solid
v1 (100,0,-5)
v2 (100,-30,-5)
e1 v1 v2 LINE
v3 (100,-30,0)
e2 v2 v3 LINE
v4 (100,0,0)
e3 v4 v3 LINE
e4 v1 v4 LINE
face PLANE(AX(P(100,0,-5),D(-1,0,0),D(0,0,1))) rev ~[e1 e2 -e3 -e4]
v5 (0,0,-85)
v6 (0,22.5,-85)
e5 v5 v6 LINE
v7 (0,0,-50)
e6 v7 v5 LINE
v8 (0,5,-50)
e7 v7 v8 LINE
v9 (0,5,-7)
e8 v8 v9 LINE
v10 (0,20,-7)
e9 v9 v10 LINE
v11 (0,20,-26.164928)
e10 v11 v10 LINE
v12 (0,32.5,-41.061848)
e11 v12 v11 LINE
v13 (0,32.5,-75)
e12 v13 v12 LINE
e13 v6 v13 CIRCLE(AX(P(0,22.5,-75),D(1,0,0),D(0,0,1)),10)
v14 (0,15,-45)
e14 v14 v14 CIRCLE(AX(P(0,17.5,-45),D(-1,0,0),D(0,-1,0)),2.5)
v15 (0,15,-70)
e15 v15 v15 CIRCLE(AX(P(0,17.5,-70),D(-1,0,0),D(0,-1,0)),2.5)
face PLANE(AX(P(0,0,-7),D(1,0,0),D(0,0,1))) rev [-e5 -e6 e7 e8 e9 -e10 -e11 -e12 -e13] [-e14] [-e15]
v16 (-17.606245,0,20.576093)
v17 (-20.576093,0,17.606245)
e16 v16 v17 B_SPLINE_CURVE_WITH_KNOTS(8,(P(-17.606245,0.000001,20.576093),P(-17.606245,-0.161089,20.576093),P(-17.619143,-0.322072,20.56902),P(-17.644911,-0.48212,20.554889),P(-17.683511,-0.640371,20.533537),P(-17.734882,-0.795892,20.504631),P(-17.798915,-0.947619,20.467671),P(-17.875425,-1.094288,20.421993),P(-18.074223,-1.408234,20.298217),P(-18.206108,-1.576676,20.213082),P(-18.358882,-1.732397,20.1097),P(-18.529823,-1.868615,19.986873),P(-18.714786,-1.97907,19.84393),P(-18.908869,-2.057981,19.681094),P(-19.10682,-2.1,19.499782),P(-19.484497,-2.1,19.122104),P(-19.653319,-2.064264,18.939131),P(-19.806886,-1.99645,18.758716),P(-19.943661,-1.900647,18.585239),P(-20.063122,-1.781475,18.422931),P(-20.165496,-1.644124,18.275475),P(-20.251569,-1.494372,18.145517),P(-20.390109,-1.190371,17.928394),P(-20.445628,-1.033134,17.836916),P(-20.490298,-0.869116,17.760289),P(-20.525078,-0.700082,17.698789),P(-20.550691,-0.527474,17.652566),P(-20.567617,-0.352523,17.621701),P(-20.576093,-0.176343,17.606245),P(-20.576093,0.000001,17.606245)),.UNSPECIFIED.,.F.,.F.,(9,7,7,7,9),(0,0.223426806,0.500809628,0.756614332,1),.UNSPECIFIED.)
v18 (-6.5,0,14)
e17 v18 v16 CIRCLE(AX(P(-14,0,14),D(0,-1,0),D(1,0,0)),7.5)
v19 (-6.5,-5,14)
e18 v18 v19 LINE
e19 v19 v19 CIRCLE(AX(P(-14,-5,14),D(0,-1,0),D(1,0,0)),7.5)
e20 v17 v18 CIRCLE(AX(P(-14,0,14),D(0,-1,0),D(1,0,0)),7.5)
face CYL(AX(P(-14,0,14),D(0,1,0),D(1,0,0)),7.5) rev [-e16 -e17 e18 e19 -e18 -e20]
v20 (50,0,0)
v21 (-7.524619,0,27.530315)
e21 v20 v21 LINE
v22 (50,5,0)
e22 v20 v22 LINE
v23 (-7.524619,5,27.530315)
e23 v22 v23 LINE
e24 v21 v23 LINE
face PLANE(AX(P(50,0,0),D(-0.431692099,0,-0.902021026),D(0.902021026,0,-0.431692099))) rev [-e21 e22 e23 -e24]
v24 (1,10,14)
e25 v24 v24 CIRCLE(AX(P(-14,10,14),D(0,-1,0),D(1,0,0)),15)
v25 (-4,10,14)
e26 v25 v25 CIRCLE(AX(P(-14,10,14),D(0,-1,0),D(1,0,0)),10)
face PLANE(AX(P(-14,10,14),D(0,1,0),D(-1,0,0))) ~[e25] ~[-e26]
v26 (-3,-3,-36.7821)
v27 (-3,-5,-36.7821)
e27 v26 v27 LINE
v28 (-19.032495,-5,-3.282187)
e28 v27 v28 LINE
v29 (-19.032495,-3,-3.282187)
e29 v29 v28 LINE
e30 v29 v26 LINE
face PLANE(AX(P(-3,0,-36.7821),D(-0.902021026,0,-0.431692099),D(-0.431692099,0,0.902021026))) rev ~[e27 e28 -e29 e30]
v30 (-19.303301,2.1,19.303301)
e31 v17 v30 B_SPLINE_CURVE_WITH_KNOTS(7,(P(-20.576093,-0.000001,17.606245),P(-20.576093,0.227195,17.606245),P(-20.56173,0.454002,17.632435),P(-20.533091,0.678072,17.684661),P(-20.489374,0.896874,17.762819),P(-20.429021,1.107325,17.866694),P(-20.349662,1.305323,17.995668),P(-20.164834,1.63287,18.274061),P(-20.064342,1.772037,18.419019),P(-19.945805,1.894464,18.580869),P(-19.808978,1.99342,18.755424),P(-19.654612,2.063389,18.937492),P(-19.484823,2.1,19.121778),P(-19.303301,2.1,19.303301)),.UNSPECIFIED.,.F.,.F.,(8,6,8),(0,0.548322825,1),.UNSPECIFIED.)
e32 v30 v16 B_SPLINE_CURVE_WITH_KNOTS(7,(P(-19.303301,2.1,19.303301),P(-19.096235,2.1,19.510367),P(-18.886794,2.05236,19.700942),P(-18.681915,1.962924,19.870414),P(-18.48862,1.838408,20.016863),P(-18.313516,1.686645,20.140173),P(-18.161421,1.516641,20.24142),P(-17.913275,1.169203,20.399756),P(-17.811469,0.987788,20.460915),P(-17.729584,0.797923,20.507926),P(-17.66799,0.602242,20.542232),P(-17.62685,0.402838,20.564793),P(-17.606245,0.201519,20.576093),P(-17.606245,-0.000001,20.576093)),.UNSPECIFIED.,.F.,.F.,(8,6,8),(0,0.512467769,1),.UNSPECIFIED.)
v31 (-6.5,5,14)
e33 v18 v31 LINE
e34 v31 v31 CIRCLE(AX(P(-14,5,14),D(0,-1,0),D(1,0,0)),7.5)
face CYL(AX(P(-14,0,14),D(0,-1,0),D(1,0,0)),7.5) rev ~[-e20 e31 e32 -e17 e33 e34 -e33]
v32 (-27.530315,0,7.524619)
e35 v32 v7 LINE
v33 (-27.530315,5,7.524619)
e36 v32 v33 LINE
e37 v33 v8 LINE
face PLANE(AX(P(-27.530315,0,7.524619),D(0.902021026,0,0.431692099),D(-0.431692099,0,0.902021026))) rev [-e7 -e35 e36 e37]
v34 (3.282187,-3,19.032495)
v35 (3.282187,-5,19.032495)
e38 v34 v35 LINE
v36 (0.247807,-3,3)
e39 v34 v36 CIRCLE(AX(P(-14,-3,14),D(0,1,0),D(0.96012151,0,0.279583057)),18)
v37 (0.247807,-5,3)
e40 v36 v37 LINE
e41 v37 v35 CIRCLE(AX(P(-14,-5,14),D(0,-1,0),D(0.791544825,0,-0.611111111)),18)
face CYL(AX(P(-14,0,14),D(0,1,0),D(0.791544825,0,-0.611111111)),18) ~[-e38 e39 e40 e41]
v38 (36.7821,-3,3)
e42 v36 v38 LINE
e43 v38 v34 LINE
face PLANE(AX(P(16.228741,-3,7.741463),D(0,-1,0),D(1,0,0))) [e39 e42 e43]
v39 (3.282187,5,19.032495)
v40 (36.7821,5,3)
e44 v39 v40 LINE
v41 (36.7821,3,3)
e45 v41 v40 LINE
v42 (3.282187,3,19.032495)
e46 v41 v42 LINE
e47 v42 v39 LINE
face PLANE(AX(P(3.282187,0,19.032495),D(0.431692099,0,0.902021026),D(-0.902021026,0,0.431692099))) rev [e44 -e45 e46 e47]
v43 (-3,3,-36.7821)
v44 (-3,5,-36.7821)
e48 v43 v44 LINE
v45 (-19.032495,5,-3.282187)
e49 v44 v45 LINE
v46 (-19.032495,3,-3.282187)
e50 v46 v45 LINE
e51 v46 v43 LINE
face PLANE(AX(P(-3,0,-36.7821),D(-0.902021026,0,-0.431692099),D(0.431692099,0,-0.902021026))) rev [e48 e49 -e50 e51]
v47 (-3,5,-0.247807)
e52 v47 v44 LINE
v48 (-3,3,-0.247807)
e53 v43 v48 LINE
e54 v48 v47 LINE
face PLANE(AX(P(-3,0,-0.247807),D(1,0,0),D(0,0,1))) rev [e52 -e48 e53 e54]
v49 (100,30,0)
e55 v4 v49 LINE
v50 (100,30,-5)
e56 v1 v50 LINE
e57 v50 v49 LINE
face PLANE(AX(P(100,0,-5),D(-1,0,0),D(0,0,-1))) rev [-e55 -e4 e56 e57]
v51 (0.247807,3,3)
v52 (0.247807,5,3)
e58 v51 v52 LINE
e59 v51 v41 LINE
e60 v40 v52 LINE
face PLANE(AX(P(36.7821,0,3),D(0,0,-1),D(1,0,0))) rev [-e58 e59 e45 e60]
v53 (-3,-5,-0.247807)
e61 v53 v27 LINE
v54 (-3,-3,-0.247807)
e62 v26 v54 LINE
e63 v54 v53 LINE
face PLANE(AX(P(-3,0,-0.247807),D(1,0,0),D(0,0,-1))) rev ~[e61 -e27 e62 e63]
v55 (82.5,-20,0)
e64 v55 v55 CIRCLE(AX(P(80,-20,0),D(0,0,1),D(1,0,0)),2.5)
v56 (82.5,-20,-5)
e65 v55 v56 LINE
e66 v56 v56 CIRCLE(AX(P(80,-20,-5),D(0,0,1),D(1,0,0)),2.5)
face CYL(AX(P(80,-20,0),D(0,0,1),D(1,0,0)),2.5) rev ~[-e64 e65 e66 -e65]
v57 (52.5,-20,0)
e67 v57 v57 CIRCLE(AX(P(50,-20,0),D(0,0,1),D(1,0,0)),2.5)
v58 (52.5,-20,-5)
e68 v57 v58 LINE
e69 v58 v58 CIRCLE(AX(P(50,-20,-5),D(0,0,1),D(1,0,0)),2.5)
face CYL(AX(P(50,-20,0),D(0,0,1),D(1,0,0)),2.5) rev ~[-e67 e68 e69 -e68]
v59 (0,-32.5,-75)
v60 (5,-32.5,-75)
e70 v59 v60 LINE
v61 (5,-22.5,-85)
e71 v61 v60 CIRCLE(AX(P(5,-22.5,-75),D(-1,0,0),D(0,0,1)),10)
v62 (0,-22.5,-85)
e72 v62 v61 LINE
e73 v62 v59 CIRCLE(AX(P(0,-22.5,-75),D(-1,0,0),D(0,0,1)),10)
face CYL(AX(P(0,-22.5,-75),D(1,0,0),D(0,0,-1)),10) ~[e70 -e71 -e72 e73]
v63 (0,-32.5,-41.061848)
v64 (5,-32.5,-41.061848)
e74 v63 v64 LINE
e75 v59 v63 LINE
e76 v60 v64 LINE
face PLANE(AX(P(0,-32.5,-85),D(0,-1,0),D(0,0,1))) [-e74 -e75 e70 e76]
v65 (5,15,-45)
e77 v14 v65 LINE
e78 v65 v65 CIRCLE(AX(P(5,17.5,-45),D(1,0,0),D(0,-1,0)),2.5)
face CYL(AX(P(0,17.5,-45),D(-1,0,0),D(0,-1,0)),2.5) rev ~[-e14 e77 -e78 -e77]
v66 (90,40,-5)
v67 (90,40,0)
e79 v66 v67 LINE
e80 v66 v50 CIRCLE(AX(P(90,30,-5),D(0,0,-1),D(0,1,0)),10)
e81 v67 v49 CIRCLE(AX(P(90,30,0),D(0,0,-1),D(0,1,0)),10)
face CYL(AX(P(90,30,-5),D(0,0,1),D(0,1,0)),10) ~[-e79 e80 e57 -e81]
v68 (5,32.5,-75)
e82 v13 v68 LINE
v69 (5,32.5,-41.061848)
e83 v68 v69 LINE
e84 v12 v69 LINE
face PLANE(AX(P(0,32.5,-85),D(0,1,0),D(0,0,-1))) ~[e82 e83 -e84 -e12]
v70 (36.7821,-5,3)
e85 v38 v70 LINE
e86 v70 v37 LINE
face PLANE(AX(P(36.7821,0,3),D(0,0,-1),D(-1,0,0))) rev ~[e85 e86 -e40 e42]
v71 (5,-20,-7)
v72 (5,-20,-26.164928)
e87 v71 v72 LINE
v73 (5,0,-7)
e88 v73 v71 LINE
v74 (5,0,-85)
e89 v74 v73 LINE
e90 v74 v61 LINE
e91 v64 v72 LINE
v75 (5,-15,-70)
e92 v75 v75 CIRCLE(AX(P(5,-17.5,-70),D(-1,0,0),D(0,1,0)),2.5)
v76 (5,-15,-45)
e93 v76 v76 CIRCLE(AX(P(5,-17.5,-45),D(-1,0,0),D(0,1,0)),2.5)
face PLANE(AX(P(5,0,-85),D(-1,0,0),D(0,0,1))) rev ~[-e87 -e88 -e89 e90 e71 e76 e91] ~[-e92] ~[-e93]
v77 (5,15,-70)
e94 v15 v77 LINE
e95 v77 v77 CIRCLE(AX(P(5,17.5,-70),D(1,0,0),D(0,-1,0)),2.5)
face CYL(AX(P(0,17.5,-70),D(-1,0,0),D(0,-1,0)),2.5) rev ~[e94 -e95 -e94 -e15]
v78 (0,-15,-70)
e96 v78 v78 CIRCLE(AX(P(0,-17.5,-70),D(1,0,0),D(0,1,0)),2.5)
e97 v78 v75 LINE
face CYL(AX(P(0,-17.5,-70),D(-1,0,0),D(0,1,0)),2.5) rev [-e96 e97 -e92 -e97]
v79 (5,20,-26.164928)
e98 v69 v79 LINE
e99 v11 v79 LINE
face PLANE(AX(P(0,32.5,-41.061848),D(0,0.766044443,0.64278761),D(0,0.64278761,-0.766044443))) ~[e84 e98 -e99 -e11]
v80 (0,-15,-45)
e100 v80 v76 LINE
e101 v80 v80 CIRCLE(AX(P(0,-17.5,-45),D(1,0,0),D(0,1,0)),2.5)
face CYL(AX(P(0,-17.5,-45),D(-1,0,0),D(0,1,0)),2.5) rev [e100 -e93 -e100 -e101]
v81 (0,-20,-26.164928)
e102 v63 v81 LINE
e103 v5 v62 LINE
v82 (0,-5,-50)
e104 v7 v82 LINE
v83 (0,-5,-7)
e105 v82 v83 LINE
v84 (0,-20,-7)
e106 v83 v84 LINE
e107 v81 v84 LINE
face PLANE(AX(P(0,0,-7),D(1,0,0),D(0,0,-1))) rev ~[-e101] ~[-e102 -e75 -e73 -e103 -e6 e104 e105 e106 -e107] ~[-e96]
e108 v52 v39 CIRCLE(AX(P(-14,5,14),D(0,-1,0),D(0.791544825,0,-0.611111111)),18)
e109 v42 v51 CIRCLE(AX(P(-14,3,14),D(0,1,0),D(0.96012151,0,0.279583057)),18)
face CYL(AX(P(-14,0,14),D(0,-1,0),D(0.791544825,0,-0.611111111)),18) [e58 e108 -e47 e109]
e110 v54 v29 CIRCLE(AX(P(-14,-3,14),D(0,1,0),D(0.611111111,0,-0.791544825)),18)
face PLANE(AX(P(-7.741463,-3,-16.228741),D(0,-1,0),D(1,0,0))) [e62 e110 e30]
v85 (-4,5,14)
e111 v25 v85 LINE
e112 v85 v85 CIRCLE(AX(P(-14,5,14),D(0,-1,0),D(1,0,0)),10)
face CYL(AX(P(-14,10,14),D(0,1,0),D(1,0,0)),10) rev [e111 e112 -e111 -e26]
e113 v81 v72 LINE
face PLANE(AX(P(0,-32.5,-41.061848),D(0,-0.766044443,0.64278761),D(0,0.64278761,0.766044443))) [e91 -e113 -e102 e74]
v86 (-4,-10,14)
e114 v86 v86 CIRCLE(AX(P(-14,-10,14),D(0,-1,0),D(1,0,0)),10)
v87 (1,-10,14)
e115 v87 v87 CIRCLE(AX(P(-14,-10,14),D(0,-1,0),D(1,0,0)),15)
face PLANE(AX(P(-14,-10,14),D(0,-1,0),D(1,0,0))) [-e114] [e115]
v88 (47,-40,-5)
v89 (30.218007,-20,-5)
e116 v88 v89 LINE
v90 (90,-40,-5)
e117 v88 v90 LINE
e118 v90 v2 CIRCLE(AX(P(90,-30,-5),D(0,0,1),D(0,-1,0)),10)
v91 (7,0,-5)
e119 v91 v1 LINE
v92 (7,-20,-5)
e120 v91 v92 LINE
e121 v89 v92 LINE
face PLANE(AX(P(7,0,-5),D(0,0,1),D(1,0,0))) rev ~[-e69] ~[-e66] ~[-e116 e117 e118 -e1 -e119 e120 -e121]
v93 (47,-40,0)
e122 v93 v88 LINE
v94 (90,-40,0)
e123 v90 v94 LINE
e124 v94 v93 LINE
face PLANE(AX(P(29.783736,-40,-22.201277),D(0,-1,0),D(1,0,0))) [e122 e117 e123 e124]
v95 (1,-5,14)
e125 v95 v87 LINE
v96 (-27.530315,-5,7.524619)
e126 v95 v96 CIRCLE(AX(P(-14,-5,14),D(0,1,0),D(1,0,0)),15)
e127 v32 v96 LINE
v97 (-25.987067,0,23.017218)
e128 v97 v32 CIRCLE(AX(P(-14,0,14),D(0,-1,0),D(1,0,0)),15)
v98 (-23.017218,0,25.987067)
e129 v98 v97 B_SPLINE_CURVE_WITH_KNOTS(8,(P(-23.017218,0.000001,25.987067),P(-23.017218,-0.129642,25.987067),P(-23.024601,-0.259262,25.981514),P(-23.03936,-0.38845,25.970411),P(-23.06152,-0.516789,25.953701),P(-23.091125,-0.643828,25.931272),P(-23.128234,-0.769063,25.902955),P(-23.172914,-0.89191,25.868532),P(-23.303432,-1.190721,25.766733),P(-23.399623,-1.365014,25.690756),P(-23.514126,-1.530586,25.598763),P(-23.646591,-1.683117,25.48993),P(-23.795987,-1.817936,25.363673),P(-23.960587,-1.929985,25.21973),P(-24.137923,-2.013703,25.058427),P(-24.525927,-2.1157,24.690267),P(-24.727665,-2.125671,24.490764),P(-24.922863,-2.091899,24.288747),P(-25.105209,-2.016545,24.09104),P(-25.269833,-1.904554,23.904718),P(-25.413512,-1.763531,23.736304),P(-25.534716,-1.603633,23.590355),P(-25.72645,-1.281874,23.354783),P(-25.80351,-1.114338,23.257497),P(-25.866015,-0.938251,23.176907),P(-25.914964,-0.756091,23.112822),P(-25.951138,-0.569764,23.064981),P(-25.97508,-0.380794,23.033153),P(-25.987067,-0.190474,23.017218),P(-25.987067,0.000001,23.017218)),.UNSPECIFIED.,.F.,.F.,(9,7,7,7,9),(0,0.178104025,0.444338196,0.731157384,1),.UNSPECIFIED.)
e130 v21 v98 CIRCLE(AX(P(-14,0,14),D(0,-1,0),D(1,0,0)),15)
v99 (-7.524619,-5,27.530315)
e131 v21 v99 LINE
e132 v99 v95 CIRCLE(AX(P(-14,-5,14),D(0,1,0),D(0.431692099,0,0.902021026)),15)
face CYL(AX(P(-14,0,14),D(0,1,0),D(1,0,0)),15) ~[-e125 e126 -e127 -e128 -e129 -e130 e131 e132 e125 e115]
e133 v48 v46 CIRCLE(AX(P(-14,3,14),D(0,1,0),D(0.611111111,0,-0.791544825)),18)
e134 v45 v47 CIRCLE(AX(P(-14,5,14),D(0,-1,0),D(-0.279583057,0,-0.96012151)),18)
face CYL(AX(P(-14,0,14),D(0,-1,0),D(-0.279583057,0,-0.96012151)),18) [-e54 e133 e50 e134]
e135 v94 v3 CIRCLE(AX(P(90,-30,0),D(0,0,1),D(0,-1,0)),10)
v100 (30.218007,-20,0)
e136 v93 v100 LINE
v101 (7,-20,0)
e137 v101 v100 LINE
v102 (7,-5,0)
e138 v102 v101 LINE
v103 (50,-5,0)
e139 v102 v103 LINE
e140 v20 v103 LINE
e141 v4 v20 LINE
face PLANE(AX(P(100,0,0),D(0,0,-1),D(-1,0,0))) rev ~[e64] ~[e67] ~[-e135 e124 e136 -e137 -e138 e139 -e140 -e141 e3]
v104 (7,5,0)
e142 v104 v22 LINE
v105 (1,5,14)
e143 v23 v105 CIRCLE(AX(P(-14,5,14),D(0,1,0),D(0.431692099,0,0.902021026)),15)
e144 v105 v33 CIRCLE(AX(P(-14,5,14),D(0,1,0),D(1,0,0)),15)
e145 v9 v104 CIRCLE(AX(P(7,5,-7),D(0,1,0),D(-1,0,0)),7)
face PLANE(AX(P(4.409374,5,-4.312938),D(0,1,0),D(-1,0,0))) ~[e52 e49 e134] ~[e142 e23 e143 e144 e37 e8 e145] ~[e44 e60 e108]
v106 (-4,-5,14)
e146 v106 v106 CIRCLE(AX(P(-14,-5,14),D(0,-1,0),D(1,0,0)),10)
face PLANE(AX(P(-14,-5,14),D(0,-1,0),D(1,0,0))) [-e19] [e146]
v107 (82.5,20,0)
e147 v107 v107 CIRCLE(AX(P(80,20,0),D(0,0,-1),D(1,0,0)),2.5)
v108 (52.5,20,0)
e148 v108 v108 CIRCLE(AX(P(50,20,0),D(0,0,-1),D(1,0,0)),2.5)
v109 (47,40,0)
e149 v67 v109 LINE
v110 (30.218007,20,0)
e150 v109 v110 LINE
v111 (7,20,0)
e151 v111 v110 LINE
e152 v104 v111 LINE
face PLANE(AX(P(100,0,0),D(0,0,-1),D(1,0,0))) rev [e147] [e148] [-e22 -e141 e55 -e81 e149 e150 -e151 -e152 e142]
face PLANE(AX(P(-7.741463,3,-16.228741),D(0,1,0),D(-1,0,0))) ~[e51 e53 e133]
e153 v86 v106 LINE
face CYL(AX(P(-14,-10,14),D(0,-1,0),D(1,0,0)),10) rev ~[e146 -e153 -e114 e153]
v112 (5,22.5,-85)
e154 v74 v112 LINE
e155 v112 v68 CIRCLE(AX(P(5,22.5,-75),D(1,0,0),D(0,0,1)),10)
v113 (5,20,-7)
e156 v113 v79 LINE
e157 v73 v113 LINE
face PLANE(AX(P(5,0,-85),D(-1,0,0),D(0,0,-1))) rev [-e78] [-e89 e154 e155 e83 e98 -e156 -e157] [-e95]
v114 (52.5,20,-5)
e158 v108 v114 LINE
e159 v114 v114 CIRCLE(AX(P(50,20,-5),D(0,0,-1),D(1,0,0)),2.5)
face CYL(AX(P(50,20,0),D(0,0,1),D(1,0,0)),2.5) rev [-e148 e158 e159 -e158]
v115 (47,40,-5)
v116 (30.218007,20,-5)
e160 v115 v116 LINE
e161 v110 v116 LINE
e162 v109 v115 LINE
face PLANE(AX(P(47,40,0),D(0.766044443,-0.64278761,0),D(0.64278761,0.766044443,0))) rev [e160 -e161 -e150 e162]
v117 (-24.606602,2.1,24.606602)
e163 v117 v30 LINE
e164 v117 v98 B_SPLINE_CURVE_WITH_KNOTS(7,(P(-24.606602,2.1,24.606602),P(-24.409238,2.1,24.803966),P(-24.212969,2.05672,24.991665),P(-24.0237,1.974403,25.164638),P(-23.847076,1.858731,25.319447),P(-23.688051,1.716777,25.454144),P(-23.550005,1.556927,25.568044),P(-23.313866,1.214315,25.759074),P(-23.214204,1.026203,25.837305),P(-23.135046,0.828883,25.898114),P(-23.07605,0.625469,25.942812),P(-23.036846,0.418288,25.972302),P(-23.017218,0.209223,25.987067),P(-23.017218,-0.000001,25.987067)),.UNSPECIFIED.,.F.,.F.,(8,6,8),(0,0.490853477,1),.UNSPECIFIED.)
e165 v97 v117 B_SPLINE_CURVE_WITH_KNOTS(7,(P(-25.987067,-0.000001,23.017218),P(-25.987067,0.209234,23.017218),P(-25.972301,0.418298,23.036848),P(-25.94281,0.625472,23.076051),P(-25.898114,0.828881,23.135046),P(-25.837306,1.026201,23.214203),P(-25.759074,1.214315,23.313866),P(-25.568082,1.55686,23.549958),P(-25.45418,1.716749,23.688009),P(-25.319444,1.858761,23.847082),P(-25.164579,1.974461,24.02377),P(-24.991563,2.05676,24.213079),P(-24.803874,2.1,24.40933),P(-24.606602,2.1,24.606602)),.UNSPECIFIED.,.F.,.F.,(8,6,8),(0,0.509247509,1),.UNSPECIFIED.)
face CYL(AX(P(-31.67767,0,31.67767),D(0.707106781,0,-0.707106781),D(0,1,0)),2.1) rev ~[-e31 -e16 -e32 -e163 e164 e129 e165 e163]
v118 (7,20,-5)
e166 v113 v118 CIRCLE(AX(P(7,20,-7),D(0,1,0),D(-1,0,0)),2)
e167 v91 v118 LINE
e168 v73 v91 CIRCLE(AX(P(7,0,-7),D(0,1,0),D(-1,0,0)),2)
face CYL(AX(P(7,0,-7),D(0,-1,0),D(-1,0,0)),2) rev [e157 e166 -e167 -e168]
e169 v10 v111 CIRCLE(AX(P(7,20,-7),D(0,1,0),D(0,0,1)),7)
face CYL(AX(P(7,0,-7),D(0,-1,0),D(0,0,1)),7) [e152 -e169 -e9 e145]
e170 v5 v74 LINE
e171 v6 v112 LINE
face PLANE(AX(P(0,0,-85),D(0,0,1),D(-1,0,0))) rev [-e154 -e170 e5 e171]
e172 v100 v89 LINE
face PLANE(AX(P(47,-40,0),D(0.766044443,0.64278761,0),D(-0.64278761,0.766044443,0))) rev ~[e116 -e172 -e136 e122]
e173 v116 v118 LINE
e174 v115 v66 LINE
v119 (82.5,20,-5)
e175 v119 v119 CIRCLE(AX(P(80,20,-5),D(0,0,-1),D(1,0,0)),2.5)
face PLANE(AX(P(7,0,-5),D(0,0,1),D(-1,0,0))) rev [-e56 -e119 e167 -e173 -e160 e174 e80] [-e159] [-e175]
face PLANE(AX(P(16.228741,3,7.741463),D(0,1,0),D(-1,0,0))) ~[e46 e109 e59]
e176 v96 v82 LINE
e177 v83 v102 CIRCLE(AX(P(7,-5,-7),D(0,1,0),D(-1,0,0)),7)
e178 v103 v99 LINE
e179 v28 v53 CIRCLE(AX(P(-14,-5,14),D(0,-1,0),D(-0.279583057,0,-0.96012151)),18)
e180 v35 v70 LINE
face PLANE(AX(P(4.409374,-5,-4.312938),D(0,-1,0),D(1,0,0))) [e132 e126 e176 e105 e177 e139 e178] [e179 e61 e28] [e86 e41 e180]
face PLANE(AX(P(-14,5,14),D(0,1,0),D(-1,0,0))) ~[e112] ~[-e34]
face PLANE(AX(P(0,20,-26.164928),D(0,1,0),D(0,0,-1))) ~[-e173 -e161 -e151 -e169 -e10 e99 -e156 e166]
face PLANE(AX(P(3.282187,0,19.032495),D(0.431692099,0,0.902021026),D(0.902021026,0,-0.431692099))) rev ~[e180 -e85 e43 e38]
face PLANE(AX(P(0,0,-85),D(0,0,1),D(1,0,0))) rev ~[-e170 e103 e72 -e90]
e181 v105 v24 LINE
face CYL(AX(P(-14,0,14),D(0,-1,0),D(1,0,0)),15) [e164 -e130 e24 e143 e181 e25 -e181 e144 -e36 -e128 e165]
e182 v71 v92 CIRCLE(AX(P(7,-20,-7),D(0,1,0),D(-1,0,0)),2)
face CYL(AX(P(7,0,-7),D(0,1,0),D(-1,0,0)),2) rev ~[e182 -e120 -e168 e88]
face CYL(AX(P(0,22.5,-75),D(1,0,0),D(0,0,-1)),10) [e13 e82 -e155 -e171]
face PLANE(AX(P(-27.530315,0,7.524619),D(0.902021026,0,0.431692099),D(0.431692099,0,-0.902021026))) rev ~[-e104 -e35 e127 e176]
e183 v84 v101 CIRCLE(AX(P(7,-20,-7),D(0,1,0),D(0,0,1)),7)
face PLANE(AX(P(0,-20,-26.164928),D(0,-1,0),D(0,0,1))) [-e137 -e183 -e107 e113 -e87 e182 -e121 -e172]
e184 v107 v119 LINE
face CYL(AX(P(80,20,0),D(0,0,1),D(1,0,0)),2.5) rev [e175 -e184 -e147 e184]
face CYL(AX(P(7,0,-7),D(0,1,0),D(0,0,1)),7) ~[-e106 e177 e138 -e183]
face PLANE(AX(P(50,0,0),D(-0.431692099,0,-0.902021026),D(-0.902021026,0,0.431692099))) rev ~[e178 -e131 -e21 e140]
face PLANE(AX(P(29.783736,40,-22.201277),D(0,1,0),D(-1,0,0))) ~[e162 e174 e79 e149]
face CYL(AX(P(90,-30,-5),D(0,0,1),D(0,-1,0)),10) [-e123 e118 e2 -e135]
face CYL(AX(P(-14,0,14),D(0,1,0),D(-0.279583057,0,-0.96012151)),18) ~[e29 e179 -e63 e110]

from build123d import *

# Parameters (mm, degrees)
F4_DEPTH  = 40
F5_DEPTH  = 10
F6_DEPTH  = 10
F7_R      = 10
F8_R      = 2.5
F10_DEPTH = 100.001
F9_R      = 2.5
F11_DEPTH = 85.001
F12_DEPTH = 5
F13_DEPTH = 3
F0_R      = 10
F0_R_2    = 7.5
F14_DEPTH = 10
F15_R     = 10
F15_R_2   = 7.5
F16_DEPTH = 5
F19_D     = 4.2
F19_DEPTH = 10
F19_TIP   = 1.2618073


with BuildPart() as f4:
    # F0 (on Front) → F4 (new body)
    with BuildSketch(Plane.XZ):
        with BuildLine():
            Line((0, -50), (0, -85))
            Line((0, -85), (5, -85))
            Line((5, -85), (5, -7))
            ThreePointArc((5, -7), (5.5857864376, -5.5857864376), (7, -5))
            Line((7, -5), (100, -5))
            Line((100, -5), (100, 0))
            Line((100, 0), (50, 0))
            Line((50, 0), (7, 0))
            ThreePointArc((7, 0), (2.0502525317, -2.0502525317), (0, -7))
            Line((0, -7), (0, -50))
        make_face()
    extrude(amount=F4_DEPTH)

    # F2 (on Right) → F5 (cut)
    with BuildSketch(Plane.YZ):
        Polygon((-20, -26.1649281481), (-20, 0), (-40, 0), (-40, -85), (-32.5, -85), (-32.5, -41.0618480555), align=None)
    extrude(amount=F5_DEPTH, mode=Mode.SUBTRACT)

    # F3 (on Top) → F6 (cut)
    with BuildSketch(Plane.XY):
        Polygon((30.2180073765, -20), (0, -20), (0, -40), (47, -40), align=None)
    extrude(amount=-F6_DEPTH, mode=Mode.SUBTRACT)

    # F7
    f7_edges = [f4.edges().sort_by_distance(p)[0] for p in [
        (2.5, -32.5, -85),
        (100, -40, -2.5),
    ]]
    fillet(f7_edges, radius=F7_R)

    # F8 (on Right) → F10 (cut, through all)
    with BuildSketch(Plane.YZ):
        with Locations((-17.5, -70)):
            Circle(F8_R)
        with Locations((-17.5, -45)):
            Circle(F8_R)
    extrude(amount=F10_DEPTH, mode=Mode.SUBTRACT)

    # F9 (on Top) → F11 (cut, through all)
    with BuildSketch(Plane.XY):
        with Locations((50, -20)):
            Circle(F9_R)
        with Locations((80, -20)):
            Circle(F9_R)
    extrude(amount=-F11_DEPTH, mode=Mode.SUBTRACT)

    # F0 (on Front) → F12 (join)
    with BuildSketch(Plane.XZ):
        with BuildLine():
            Line((-27.5303153895, 7.5246185085), (0, -50))
            Line((0, -50), (0, -7))
            ThreePointArc((0, -7), (2.0502525317, -2.0502525317), (7, 0))
            Line((7, 0), (50, 0))
            Line((50, 0), (-7.5246185085, 27.5303153895))
            ThreePointArc((-7.5246185085, 27.5303153895), (-1.3088471294, 21.9959138824), (1, 14))
            ThreePointArc((1, 14), (-10.6799646721, -0.6279651839), (-27.5303153895, 7.5246185085))
        make_face()
        with BuildLine():
            Line((-3, -36.782099822), (-19.0324950336, -3.2821871804))
            ThreePointArc((-19.0324950336, -3.2821871804), (-10.6526660041, -3.686021461), (-3, -0.2478068488))
            Line((-3, -0.2478068488), (-3, -36.782099822))
        make_face(mode=Mode.SUBTRACT)
        with BuildLine():
            ThreePointArc((0.2478068488, 3), (3.686021461, 10.6526660041), (3.2821871804, 19.0324950336))
            Line((3.2821871804, 19.0324950336), (36.782099822, 3))
            Line((36.782099822, 3), (0.2478068488, 3))
        make_face(mode=Mode.SUBTRACT)
    extrude(amount=F12_DEPTH)

    # F0 (on Front) → F13 (join)
    with BuildSketch(Plane.XZ):
        with BuildLine():
            Line((36.782099822, 3), (3.2821871804, 19.0324950336))
            ThreePointArc((3.2821871804, 19.0324950336), (3.686021461, 10.6526660041), (0.2478068488, 3))
            Line((0.2478068488, 3), (36.782099822, 3))
        make_face()
        with BuildLine():
            ThreePointArc((-3, -0.2478068488), (-10.6526660041, -3.686021461), (-19.0324950336, -3.2821871804))
            Line((-19.0324950336, -3.2821871804), (-3, -36.782099822))
            Line((-3, -36.782099822), (-3, -0.2478068488))
        make_face()
    extrude(amount=F13_DEPTH)

    # F0 (on Front) → F14 (join)
    with BuildSketch(Plane.XZ):
        with BuildLine():
            ThreePointArc((-7.5246185085, 27.5303153895), (-24.6066017178, 24.6066017178), (-27.5303153895, 7.5246185085))
            ThreePointArc((-27.5303153895, 7.5246185085), (-10.6799646721, -0.6279651839), (1, 14))
            ThreePointArc((1, 14), (-1.3088471294, 21.9959138824), (-7.5246185085, 27.5303153895))
        make_face()
        with Locations((-14, 14)):
            Circle(F0_R, mode=Mode.SUBTRACT)
        with Locations((-14, 14)):
            Circle(F0_R)
        with Locations((-14, 14)):
            Circle(F0_R_2, mode=Mode.SUBTRACT)
    extrude(amount=F14_DEPTH)

    # F15 (on face) → F16 (cut)
    with BuildSketch(Plane.XZ.offset(10)):
        with Locations((-14, 14)):
            Circle(F15_R)
        with Locations((-14, 14)):
            Circle(F15_R_2, mode=Mode.SUBTRACT)
    extrude(amount=-F16_DEPTH, mode=Mode.SUBTRACT)

    # F17: F4 across plane


with BuildPart() as f4_1:
    add(f4.part)
    add(f4.part.mirror(Plane.XZ))

    # F19
    with Locations(Plane(origin=(-24.6066017178, 0, 24.6066017178), x_dir=(0, -1, 0), z_dir=(-0.7071067812, 0, 0.7071067812))):
        with Locations((0, 0)):
            Hole(F19_D / 2, depth=F19_DEPTH)
            with Locations((0, 0, -(F19_DEPTH + F19_TIP / 2))):  # 118° drill point
                Cone(0, F19_D / 2, F19_TIP, mode=Mode.SUBTRACT)


solid = f4_1.part
